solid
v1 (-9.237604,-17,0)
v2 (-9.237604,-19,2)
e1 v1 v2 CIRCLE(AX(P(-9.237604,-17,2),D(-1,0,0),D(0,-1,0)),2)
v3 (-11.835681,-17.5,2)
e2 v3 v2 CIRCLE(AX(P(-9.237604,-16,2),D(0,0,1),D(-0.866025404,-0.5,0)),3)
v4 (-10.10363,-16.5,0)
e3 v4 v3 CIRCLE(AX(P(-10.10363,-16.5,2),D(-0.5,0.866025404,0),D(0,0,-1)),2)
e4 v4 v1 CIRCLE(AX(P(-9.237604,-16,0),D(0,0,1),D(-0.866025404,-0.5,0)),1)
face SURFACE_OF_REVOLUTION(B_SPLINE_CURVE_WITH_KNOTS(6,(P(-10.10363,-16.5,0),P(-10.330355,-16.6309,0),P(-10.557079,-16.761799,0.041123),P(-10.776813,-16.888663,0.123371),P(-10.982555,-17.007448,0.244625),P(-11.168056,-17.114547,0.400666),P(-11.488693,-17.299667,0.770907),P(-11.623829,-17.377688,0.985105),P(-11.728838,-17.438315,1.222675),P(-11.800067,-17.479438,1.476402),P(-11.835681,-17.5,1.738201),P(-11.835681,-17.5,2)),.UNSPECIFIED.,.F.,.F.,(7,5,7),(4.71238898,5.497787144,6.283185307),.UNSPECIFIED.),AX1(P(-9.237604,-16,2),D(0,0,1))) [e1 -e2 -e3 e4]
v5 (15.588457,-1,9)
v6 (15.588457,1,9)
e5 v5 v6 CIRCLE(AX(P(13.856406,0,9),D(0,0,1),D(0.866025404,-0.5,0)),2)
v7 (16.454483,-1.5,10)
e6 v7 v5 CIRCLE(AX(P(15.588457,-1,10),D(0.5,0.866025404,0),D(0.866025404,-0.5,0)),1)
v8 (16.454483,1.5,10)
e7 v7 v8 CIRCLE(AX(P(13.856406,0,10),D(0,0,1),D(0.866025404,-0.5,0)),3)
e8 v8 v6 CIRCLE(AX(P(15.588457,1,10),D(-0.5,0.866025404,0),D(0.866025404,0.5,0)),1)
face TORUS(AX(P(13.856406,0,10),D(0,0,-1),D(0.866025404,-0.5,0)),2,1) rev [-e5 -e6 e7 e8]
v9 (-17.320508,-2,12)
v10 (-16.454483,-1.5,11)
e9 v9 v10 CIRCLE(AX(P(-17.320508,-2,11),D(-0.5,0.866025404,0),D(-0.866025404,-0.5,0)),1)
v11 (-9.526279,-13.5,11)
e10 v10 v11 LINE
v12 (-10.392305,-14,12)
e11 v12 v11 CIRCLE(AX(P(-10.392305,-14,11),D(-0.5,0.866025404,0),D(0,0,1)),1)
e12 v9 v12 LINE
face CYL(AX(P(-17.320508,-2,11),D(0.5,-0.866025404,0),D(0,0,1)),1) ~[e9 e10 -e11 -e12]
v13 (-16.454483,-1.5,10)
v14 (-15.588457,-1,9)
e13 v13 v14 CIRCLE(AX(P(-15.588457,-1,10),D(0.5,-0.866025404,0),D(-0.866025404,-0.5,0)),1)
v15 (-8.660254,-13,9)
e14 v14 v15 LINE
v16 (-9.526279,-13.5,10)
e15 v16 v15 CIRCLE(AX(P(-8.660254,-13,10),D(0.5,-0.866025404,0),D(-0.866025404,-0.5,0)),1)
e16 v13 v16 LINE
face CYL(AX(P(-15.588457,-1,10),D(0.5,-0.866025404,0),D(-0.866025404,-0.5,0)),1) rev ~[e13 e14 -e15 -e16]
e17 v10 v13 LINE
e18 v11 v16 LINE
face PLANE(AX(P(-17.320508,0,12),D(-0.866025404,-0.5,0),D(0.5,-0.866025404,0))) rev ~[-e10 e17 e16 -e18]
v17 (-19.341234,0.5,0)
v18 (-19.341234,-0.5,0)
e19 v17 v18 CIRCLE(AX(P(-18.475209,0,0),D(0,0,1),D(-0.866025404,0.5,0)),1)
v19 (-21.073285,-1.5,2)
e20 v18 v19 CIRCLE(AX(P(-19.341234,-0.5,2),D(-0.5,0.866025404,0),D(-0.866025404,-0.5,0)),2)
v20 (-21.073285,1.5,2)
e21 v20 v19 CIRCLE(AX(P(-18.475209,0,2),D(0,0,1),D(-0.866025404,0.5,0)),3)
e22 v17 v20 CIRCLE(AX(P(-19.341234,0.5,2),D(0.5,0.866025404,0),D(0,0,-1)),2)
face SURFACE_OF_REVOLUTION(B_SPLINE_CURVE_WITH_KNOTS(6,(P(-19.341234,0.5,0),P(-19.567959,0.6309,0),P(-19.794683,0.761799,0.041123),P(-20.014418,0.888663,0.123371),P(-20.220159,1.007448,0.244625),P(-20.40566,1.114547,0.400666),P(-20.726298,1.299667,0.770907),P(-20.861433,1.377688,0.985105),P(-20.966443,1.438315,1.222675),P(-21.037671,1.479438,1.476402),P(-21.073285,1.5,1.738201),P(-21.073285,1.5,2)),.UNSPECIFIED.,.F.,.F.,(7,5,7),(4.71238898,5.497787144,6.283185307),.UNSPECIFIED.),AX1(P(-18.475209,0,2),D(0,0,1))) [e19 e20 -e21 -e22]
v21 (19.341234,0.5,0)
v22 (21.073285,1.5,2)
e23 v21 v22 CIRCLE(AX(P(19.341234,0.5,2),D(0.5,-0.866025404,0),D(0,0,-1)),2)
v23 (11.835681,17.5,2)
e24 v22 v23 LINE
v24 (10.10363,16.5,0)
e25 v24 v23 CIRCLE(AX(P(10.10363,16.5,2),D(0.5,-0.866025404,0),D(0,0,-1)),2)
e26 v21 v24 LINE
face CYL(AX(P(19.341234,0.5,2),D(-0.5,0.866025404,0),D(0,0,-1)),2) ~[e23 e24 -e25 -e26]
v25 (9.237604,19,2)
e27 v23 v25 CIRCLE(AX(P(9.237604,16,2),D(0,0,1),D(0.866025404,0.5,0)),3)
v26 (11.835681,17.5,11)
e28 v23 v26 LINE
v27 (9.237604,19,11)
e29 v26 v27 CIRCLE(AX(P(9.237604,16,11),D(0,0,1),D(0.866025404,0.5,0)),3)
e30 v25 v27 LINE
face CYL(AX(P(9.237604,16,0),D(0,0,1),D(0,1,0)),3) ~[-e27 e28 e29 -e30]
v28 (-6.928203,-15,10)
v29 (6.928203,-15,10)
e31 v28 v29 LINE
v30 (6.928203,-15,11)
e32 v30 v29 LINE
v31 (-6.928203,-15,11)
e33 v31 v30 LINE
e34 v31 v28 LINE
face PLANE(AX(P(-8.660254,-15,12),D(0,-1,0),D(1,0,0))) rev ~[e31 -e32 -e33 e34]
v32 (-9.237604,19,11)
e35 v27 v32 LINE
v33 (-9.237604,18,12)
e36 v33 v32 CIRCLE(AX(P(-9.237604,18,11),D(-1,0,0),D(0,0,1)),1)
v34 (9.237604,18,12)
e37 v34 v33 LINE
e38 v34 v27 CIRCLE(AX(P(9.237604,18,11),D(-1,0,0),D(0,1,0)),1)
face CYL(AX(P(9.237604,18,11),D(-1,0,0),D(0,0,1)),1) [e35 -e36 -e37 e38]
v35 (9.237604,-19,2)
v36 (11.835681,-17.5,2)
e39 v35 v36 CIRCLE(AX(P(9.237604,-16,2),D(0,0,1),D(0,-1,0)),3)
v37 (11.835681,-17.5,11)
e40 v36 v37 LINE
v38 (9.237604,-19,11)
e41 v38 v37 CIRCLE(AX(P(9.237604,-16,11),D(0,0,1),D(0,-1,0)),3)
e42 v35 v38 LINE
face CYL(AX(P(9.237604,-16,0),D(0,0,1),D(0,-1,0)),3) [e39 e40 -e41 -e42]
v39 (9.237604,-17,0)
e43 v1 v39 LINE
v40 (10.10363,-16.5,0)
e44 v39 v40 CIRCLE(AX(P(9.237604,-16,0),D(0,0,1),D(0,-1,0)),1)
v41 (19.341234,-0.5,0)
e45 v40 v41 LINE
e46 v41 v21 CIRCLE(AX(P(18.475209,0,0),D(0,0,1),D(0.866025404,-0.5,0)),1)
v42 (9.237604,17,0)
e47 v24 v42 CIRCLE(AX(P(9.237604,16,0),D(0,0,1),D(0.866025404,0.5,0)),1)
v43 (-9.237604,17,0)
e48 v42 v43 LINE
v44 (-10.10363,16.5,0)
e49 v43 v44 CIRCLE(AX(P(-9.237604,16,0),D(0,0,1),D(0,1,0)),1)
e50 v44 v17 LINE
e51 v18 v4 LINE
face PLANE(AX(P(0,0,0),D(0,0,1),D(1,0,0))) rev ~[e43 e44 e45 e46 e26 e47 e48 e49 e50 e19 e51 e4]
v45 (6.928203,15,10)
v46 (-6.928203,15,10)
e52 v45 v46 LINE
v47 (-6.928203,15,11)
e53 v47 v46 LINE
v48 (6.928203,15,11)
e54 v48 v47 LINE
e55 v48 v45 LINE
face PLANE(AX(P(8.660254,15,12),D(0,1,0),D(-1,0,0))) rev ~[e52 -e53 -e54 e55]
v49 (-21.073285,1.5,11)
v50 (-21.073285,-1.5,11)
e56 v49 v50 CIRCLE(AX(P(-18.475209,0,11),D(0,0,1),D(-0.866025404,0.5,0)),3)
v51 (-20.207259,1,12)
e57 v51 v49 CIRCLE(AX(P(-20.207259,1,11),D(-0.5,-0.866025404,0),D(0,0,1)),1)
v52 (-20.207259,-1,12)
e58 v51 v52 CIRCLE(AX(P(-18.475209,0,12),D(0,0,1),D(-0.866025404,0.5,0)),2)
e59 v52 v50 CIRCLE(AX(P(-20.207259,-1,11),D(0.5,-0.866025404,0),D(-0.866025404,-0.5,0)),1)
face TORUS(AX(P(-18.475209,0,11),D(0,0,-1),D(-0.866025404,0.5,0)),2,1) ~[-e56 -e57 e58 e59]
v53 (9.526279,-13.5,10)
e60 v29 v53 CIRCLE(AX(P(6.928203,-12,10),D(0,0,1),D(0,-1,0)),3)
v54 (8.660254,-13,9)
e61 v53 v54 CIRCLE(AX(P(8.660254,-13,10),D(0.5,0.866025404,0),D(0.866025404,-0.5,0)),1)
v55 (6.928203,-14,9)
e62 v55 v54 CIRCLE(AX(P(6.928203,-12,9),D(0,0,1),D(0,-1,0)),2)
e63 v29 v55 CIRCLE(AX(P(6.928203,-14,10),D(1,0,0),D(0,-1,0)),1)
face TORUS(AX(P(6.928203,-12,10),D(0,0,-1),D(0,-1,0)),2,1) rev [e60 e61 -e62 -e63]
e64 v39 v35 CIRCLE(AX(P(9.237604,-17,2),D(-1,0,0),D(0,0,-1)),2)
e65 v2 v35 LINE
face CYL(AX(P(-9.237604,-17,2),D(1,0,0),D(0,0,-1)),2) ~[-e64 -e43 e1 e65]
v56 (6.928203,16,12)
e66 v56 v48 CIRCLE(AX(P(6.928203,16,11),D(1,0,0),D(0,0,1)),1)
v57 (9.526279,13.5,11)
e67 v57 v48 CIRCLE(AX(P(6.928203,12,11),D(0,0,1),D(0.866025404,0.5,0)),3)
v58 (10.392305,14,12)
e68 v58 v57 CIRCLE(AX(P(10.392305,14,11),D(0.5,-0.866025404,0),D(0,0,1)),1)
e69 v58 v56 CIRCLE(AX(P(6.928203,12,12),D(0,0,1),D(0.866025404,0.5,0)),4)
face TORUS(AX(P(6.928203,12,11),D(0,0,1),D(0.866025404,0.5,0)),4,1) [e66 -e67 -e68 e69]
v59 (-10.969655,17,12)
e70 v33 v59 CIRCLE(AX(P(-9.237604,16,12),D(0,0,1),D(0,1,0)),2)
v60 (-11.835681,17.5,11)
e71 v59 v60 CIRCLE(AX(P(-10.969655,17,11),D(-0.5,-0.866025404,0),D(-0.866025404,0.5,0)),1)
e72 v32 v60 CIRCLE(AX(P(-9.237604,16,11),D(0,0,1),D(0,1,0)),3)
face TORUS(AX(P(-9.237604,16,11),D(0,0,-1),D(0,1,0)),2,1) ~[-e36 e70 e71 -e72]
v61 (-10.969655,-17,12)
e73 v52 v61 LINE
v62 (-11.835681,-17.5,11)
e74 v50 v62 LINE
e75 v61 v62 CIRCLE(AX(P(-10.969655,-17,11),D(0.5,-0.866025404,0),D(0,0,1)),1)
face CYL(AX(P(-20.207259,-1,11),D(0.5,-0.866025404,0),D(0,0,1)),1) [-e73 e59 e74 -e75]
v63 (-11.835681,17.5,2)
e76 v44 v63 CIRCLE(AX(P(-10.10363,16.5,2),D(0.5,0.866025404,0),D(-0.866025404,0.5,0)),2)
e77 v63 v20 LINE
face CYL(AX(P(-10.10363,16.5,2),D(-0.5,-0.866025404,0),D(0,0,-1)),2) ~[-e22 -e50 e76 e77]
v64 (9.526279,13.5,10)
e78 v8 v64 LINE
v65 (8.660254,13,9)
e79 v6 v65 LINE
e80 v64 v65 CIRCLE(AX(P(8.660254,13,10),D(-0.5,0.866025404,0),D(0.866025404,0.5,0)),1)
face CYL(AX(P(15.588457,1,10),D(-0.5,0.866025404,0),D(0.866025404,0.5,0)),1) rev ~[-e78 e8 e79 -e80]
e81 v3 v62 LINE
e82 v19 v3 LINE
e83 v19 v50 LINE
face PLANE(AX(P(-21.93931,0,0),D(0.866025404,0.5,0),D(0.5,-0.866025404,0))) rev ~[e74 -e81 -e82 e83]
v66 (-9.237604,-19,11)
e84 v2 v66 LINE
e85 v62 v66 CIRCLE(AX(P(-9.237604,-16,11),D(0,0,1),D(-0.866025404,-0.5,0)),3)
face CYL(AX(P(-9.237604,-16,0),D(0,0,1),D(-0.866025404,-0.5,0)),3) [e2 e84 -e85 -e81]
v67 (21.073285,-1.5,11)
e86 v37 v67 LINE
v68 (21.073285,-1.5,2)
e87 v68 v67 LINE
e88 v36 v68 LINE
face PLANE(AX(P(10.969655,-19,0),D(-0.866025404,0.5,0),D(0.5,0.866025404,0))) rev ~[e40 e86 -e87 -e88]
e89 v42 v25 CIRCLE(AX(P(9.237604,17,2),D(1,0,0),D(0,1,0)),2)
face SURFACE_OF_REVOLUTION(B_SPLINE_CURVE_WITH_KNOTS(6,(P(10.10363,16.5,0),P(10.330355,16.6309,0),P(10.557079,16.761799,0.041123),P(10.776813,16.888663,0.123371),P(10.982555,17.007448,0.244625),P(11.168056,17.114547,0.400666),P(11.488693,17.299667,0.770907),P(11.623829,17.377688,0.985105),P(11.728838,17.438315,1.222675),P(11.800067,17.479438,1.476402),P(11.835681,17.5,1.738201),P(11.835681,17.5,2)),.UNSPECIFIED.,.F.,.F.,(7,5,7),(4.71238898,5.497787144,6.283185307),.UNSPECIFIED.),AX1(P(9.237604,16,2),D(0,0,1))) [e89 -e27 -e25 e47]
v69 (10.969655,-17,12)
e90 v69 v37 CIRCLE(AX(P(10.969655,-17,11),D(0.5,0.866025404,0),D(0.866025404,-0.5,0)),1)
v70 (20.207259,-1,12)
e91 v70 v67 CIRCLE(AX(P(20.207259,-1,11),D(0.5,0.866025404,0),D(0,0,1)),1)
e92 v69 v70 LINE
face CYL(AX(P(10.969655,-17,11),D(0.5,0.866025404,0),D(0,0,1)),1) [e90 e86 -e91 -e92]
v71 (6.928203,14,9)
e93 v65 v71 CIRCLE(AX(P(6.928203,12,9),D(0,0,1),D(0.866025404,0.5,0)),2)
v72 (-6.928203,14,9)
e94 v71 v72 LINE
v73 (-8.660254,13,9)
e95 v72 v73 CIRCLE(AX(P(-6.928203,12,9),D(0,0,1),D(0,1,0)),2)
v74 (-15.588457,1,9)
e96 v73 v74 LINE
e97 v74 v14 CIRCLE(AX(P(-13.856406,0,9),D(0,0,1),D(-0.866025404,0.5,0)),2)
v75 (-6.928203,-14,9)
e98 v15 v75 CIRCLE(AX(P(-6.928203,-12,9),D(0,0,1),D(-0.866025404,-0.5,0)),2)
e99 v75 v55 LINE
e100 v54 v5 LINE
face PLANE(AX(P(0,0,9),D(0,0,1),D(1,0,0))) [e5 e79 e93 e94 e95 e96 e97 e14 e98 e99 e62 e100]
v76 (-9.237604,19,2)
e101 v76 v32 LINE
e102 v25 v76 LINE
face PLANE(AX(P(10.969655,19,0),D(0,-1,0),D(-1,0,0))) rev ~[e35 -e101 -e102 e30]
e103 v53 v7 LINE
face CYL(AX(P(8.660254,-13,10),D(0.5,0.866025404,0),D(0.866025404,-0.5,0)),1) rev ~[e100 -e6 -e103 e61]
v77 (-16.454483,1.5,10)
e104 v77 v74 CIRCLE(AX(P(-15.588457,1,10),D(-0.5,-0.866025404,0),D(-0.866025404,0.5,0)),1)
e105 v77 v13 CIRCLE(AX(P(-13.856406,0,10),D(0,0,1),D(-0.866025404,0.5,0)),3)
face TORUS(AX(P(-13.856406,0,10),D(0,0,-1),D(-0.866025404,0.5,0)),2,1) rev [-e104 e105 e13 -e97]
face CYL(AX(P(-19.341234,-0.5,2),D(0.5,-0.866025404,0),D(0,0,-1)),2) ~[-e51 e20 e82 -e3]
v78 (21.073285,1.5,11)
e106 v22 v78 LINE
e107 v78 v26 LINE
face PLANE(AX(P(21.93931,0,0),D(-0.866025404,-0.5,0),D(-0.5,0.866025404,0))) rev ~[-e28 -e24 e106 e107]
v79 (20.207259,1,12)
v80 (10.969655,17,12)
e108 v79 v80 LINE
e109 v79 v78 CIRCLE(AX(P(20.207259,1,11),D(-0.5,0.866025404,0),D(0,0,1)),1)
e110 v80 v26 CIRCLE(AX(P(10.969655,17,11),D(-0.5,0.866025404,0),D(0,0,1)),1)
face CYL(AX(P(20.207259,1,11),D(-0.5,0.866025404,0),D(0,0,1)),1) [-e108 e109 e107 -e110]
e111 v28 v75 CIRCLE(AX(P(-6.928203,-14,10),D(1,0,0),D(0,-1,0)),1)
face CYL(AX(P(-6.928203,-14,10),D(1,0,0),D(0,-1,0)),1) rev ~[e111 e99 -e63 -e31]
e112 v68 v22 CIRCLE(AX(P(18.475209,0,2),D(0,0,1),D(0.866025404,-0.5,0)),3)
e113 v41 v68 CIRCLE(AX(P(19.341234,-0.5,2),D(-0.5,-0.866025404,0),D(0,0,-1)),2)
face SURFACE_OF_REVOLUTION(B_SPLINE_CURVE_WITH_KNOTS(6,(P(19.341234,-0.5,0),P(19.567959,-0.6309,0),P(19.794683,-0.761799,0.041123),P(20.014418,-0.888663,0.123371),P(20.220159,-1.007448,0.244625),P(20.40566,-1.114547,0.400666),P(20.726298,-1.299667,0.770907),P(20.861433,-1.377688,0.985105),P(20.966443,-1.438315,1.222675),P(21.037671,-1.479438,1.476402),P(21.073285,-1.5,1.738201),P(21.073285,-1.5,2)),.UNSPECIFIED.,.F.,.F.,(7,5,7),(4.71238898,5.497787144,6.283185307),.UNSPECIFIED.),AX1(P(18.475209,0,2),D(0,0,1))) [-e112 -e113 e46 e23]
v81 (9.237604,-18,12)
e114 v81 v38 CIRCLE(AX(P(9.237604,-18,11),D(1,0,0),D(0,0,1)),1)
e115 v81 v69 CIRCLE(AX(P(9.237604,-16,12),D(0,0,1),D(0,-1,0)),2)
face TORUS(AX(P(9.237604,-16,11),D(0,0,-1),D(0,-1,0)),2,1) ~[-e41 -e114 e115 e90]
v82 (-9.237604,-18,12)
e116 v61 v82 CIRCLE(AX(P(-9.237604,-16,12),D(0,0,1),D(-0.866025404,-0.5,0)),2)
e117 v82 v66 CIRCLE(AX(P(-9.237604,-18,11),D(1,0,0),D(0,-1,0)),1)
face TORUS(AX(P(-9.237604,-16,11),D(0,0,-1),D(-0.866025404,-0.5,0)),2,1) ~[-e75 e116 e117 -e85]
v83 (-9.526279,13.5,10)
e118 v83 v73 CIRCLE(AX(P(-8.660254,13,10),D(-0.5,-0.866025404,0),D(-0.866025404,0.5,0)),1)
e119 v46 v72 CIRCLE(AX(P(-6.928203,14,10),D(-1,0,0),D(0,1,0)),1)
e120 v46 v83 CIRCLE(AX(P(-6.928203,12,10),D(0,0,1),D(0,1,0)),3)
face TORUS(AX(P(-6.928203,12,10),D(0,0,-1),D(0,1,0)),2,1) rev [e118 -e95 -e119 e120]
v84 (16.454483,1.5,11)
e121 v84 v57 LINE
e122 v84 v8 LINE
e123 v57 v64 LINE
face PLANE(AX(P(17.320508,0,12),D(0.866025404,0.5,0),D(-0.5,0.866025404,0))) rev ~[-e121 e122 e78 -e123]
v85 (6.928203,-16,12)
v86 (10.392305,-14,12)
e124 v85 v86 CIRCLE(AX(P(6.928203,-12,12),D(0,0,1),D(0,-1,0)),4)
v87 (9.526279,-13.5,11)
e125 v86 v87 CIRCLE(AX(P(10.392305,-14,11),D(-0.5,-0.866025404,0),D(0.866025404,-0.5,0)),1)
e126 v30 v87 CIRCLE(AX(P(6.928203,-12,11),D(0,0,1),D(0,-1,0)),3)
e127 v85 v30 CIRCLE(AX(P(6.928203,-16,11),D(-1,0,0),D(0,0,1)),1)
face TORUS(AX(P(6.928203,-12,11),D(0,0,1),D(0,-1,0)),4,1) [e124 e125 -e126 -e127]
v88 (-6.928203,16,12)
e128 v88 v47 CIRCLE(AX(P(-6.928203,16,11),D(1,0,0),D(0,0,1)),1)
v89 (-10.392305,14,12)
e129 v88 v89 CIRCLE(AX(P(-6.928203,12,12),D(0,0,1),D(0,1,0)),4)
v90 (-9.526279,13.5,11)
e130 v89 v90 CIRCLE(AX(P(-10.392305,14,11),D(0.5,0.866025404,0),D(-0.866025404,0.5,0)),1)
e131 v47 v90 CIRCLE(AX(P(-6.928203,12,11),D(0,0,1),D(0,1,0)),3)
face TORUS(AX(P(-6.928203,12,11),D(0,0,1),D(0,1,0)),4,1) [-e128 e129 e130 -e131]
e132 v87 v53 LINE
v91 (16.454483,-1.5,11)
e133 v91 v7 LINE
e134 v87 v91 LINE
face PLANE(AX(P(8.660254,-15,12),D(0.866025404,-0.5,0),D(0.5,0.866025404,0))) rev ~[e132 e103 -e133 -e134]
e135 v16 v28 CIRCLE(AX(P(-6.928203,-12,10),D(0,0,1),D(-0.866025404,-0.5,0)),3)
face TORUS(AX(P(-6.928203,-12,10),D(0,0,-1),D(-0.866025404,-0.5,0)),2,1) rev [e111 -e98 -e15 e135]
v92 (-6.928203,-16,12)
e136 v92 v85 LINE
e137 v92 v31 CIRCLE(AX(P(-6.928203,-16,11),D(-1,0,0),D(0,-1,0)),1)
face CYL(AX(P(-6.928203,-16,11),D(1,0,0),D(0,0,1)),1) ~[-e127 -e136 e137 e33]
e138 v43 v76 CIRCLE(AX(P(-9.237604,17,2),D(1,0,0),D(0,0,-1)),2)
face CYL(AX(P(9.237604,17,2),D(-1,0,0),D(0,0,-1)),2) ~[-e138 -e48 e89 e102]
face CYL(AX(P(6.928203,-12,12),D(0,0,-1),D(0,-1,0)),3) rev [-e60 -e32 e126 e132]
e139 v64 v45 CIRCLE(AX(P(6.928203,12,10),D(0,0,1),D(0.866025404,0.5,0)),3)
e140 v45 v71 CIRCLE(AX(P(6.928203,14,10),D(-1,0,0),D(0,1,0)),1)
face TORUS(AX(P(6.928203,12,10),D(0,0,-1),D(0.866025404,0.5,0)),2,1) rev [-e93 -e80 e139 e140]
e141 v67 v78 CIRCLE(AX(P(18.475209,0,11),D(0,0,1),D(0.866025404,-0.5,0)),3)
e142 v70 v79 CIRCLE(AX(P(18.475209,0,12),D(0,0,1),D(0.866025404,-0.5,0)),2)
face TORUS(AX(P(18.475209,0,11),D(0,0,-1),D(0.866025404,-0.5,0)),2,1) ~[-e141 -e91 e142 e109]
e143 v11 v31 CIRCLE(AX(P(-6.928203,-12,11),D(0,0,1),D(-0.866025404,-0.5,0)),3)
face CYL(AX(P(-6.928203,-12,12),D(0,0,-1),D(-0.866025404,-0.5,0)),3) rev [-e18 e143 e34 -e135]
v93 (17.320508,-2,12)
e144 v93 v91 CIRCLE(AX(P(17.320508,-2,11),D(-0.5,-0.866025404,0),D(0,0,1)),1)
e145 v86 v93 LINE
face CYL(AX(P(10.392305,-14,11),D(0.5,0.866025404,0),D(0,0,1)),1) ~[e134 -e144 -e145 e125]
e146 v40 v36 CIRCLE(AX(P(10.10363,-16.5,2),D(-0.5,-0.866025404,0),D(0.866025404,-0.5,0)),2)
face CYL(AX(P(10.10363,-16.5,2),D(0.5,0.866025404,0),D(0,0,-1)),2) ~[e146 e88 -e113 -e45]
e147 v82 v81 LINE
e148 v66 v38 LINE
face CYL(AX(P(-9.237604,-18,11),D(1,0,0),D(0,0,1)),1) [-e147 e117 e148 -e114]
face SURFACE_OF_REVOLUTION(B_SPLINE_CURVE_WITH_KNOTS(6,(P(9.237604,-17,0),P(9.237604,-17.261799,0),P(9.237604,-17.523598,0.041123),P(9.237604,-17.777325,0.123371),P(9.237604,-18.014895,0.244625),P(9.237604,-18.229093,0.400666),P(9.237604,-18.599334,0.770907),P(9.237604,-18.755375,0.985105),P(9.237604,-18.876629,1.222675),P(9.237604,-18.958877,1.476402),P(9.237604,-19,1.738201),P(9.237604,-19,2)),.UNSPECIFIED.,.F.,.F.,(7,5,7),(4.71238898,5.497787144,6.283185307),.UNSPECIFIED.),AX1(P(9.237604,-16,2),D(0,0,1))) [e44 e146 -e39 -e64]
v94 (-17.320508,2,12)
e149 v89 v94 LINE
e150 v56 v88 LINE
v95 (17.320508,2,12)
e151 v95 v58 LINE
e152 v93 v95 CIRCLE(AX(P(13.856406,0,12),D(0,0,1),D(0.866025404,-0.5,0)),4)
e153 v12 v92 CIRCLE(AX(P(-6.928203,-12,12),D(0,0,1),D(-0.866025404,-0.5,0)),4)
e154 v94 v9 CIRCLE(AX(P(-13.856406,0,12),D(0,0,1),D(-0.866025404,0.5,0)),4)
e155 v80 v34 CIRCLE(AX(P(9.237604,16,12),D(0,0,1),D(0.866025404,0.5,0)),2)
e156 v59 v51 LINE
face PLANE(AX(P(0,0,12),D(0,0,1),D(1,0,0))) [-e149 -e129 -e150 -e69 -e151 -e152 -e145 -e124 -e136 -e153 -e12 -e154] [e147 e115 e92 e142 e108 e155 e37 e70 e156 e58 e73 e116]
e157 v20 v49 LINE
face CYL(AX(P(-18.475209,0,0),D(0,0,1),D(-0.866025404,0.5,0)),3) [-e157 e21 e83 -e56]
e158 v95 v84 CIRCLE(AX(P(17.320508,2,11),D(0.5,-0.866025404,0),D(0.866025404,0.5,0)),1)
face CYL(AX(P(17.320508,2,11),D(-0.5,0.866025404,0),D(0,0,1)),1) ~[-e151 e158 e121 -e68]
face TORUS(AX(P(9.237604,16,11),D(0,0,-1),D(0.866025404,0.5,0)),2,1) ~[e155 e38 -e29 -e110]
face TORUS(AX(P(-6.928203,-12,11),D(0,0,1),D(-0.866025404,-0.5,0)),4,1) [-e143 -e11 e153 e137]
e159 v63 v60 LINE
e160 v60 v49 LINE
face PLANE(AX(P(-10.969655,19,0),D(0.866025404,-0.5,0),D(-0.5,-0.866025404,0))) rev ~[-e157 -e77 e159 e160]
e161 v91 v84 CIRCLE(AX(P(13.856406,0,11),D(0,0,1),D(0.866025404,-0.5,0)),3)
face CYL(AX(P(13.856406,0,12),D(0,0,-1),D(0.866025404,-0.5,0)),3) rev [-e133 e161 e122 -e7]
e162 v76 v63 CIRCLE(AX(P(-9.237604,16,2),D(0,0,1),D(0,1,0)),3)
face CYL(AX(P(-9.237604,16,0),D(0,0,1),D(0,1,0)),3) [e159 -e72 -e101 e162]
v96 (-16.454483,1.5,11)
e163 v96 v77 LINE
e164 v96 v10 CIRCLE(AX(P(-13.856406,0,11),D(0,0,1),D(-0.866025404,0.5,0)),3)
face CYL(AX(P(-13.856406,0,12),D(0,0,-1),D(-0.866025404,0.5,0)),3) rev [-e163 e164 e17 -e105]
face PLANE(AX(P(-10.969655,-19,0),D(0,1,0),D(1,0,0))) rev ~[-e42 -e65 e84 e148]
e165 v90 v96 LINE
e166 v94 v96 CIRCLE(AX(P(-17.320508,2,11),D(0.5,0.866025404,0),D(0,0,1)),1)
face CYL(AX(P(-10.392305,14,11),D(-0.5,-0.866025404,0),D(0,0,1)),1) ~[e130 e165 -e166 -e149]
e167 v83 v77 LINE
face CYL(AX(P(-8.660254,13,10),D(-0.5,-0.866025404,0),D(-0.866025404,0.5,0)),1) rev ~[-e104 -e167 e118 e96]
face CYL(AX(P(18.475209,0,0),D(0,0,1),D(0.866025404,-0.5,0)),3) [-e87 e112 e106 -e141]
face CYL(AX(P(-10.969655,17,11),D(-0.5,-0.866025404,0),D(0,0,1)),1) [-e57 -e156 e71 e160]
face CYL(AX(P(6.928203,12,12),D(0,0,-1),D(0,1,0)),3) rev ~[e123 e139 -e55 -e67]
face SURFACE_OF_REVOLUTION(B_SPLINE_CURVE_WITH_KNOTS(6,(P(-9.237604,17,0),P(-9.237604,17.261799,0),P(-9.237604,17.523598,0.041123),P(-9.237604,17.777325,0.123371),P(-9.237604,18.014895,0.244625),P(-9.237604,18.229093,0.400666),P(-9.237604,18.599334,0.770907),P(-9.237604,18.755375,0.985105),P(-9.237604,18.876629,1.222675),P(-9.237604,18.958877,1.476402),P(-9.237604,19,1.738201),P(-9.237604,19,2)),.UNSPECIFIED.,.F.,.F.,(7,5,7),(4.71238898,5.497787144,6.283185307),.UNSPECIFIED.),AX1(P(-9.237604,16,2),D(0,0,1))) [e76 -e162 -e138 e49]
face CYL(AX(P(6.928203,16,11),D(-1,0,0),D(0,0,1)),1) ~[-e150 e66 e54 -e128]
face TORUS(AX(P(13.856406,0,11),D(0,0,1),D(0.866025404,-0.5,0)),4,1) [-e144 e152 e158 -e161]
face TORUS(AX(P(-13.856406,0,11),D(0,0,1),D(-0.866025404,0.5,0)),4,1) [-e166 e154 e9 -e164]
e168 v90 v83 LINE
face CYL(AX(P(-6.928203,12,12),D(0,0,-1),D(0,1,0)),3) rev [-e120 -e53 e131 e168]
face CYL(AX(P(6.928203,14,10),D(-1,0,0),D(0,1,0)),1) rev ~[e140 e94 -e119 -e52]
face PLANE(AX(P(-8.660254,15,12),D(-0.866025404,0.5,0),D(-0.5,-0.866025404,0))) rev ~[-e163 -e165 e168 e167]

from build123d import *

# Parameters (mm, degrees)
F1_DEPTH = 12
F2_R     = 3
F3_R     = 2
F5_DEPTH = 3
F6_R     = 3
F7_R     = 1
F8_R     = 1


with BuildPart() as f1:
    # F0 (on Top) → F1 (new body)
    with BuildSketch(Plane.XY):
        Polygon((10.9696551146, 19), (-10.9696551146, 19), (-21.9393102292, 0), (-10.9696551146, -19), (10.9696551146, -19), (21.9393102292, 0), align=None)
    extrude(amount=F1_DEPTH)

    # F2
    f2_edges = [f1.edges().sort_by_distance(p)[0] for p in [
        (-10.969655, -19, 6),
        (10.969655, -19, 6),
        (21.93931, 0, 6),
        (-21.93931, 0, 6),
        (-10.969655, 19, 6),
        (10.969655, 19, 6),
    ]]
    fillet(f2_edges, radius=F2_R)

    # F3
    f3_edges = [f1.edges().sort_by_distance(p)[0] for p in [
        (16.454483, 9.5, 0),
        (21.475209, 0, 0),
        (10.737604, 18.598076, 0),
        (16.454483, -9.5, 0),
        (0, 19, 0),
        (10.737604, -18.598076, 0),
        (-10.737604, 18.598076, 0),
        (0, -19, 0),
        (-16.454483, 9.5, 0),
        (-10.737604, -18.598076, 0),
        (-21.475209, 0, 0),
        (-16.454483, -9.5, 0),
    ]]
    fillet(f3_edges, radius=F3_R)

    # F4 (on face) → F5 (cut)
    with BuildSketch(Plane.XY.offset(12)):
        Polygon((8.6602540378, 15), (-8.6602540378, 15), (-17.3205080757, 0), (-8.6602540378, -15), (8.6602540378, -15), (17.3205080757, 0), align=None)
    extrude(amount=-F5_DEPTH, mode=Mode.SUBTRACT)

    # F6
    f6_edges = [f1.edges().sort_by_distance(p)[0] for p in [
        (-8.660254, 15, 10.5),
        (8.660254, 15, 10.5),
        (17.320508, 0, 10.5),
        (-17.320508, 0, 10.5),
        (-8.660254, -15, 10.5),
        (8.660254, -15, 10.5),
    ]]
    fillet(f6_edges, radius=F6_R)

    # F7
    f7_edges = [f1.edges().sort_by_distance(p)[0] for p in [
        (0, 15, 12),
        (8.428203, 14.598076, 12),
        (-8.428203, 14.598076, 12),
        (12.990381, 7.5, 12),
        (-12.990381, 7.5, 12),
        (16.856406, 0, 12),
        (-16.856406, 0, 12),
        (12.990381, -7.5, 12),
        (-12.990381, -7.5, 12),
        (8.428203, -14.598076, 12),
        (-8.428203, -14.598076, 12),
        (0, -15, 12),
        (16.454483, 9.5, 12),
        (21.475209, 0, 12),
        (10.737604, 18.598076, 12),
        (16.454483, -9.5, 12),
        (0, 19, 12),
        (10.737604, -18.598076, 12),
        (-10.737604, 18.598076, 12),
        (0, -19, 12),
        (-16.454483, 9.5, 12),
        (-10.737604, -18.598076, 12),
        (-21.475209, 0, 12),
        (-16.454483, -9.5, 12),
    ]]
    fillet(f7_edges, radius=F7_R)

    # F8
    f8_edges = [f1.edges().sort_by_distance(p)[0] for p in [
        (0, 15, 9),
        (8.428203, 14.598076, 9),
        (-8.428203, 14.598076, 9),
        (12.990381, 7.5, 9),
        (-12.990381, 7.5, 9),
        (16.856406, 0, 9),
        (-16.856406, 0, 9),
        (12.990381, -7.5, 9),
        (-12.990381, -7.5, 9),
        (8.428203, -14.598076, 9),
        (-8.428203, -14.598076, 9),
        (0, -15, 9),
    ]]
    fillet(f8_edges, radius=F8_R)


solid = f1.part
